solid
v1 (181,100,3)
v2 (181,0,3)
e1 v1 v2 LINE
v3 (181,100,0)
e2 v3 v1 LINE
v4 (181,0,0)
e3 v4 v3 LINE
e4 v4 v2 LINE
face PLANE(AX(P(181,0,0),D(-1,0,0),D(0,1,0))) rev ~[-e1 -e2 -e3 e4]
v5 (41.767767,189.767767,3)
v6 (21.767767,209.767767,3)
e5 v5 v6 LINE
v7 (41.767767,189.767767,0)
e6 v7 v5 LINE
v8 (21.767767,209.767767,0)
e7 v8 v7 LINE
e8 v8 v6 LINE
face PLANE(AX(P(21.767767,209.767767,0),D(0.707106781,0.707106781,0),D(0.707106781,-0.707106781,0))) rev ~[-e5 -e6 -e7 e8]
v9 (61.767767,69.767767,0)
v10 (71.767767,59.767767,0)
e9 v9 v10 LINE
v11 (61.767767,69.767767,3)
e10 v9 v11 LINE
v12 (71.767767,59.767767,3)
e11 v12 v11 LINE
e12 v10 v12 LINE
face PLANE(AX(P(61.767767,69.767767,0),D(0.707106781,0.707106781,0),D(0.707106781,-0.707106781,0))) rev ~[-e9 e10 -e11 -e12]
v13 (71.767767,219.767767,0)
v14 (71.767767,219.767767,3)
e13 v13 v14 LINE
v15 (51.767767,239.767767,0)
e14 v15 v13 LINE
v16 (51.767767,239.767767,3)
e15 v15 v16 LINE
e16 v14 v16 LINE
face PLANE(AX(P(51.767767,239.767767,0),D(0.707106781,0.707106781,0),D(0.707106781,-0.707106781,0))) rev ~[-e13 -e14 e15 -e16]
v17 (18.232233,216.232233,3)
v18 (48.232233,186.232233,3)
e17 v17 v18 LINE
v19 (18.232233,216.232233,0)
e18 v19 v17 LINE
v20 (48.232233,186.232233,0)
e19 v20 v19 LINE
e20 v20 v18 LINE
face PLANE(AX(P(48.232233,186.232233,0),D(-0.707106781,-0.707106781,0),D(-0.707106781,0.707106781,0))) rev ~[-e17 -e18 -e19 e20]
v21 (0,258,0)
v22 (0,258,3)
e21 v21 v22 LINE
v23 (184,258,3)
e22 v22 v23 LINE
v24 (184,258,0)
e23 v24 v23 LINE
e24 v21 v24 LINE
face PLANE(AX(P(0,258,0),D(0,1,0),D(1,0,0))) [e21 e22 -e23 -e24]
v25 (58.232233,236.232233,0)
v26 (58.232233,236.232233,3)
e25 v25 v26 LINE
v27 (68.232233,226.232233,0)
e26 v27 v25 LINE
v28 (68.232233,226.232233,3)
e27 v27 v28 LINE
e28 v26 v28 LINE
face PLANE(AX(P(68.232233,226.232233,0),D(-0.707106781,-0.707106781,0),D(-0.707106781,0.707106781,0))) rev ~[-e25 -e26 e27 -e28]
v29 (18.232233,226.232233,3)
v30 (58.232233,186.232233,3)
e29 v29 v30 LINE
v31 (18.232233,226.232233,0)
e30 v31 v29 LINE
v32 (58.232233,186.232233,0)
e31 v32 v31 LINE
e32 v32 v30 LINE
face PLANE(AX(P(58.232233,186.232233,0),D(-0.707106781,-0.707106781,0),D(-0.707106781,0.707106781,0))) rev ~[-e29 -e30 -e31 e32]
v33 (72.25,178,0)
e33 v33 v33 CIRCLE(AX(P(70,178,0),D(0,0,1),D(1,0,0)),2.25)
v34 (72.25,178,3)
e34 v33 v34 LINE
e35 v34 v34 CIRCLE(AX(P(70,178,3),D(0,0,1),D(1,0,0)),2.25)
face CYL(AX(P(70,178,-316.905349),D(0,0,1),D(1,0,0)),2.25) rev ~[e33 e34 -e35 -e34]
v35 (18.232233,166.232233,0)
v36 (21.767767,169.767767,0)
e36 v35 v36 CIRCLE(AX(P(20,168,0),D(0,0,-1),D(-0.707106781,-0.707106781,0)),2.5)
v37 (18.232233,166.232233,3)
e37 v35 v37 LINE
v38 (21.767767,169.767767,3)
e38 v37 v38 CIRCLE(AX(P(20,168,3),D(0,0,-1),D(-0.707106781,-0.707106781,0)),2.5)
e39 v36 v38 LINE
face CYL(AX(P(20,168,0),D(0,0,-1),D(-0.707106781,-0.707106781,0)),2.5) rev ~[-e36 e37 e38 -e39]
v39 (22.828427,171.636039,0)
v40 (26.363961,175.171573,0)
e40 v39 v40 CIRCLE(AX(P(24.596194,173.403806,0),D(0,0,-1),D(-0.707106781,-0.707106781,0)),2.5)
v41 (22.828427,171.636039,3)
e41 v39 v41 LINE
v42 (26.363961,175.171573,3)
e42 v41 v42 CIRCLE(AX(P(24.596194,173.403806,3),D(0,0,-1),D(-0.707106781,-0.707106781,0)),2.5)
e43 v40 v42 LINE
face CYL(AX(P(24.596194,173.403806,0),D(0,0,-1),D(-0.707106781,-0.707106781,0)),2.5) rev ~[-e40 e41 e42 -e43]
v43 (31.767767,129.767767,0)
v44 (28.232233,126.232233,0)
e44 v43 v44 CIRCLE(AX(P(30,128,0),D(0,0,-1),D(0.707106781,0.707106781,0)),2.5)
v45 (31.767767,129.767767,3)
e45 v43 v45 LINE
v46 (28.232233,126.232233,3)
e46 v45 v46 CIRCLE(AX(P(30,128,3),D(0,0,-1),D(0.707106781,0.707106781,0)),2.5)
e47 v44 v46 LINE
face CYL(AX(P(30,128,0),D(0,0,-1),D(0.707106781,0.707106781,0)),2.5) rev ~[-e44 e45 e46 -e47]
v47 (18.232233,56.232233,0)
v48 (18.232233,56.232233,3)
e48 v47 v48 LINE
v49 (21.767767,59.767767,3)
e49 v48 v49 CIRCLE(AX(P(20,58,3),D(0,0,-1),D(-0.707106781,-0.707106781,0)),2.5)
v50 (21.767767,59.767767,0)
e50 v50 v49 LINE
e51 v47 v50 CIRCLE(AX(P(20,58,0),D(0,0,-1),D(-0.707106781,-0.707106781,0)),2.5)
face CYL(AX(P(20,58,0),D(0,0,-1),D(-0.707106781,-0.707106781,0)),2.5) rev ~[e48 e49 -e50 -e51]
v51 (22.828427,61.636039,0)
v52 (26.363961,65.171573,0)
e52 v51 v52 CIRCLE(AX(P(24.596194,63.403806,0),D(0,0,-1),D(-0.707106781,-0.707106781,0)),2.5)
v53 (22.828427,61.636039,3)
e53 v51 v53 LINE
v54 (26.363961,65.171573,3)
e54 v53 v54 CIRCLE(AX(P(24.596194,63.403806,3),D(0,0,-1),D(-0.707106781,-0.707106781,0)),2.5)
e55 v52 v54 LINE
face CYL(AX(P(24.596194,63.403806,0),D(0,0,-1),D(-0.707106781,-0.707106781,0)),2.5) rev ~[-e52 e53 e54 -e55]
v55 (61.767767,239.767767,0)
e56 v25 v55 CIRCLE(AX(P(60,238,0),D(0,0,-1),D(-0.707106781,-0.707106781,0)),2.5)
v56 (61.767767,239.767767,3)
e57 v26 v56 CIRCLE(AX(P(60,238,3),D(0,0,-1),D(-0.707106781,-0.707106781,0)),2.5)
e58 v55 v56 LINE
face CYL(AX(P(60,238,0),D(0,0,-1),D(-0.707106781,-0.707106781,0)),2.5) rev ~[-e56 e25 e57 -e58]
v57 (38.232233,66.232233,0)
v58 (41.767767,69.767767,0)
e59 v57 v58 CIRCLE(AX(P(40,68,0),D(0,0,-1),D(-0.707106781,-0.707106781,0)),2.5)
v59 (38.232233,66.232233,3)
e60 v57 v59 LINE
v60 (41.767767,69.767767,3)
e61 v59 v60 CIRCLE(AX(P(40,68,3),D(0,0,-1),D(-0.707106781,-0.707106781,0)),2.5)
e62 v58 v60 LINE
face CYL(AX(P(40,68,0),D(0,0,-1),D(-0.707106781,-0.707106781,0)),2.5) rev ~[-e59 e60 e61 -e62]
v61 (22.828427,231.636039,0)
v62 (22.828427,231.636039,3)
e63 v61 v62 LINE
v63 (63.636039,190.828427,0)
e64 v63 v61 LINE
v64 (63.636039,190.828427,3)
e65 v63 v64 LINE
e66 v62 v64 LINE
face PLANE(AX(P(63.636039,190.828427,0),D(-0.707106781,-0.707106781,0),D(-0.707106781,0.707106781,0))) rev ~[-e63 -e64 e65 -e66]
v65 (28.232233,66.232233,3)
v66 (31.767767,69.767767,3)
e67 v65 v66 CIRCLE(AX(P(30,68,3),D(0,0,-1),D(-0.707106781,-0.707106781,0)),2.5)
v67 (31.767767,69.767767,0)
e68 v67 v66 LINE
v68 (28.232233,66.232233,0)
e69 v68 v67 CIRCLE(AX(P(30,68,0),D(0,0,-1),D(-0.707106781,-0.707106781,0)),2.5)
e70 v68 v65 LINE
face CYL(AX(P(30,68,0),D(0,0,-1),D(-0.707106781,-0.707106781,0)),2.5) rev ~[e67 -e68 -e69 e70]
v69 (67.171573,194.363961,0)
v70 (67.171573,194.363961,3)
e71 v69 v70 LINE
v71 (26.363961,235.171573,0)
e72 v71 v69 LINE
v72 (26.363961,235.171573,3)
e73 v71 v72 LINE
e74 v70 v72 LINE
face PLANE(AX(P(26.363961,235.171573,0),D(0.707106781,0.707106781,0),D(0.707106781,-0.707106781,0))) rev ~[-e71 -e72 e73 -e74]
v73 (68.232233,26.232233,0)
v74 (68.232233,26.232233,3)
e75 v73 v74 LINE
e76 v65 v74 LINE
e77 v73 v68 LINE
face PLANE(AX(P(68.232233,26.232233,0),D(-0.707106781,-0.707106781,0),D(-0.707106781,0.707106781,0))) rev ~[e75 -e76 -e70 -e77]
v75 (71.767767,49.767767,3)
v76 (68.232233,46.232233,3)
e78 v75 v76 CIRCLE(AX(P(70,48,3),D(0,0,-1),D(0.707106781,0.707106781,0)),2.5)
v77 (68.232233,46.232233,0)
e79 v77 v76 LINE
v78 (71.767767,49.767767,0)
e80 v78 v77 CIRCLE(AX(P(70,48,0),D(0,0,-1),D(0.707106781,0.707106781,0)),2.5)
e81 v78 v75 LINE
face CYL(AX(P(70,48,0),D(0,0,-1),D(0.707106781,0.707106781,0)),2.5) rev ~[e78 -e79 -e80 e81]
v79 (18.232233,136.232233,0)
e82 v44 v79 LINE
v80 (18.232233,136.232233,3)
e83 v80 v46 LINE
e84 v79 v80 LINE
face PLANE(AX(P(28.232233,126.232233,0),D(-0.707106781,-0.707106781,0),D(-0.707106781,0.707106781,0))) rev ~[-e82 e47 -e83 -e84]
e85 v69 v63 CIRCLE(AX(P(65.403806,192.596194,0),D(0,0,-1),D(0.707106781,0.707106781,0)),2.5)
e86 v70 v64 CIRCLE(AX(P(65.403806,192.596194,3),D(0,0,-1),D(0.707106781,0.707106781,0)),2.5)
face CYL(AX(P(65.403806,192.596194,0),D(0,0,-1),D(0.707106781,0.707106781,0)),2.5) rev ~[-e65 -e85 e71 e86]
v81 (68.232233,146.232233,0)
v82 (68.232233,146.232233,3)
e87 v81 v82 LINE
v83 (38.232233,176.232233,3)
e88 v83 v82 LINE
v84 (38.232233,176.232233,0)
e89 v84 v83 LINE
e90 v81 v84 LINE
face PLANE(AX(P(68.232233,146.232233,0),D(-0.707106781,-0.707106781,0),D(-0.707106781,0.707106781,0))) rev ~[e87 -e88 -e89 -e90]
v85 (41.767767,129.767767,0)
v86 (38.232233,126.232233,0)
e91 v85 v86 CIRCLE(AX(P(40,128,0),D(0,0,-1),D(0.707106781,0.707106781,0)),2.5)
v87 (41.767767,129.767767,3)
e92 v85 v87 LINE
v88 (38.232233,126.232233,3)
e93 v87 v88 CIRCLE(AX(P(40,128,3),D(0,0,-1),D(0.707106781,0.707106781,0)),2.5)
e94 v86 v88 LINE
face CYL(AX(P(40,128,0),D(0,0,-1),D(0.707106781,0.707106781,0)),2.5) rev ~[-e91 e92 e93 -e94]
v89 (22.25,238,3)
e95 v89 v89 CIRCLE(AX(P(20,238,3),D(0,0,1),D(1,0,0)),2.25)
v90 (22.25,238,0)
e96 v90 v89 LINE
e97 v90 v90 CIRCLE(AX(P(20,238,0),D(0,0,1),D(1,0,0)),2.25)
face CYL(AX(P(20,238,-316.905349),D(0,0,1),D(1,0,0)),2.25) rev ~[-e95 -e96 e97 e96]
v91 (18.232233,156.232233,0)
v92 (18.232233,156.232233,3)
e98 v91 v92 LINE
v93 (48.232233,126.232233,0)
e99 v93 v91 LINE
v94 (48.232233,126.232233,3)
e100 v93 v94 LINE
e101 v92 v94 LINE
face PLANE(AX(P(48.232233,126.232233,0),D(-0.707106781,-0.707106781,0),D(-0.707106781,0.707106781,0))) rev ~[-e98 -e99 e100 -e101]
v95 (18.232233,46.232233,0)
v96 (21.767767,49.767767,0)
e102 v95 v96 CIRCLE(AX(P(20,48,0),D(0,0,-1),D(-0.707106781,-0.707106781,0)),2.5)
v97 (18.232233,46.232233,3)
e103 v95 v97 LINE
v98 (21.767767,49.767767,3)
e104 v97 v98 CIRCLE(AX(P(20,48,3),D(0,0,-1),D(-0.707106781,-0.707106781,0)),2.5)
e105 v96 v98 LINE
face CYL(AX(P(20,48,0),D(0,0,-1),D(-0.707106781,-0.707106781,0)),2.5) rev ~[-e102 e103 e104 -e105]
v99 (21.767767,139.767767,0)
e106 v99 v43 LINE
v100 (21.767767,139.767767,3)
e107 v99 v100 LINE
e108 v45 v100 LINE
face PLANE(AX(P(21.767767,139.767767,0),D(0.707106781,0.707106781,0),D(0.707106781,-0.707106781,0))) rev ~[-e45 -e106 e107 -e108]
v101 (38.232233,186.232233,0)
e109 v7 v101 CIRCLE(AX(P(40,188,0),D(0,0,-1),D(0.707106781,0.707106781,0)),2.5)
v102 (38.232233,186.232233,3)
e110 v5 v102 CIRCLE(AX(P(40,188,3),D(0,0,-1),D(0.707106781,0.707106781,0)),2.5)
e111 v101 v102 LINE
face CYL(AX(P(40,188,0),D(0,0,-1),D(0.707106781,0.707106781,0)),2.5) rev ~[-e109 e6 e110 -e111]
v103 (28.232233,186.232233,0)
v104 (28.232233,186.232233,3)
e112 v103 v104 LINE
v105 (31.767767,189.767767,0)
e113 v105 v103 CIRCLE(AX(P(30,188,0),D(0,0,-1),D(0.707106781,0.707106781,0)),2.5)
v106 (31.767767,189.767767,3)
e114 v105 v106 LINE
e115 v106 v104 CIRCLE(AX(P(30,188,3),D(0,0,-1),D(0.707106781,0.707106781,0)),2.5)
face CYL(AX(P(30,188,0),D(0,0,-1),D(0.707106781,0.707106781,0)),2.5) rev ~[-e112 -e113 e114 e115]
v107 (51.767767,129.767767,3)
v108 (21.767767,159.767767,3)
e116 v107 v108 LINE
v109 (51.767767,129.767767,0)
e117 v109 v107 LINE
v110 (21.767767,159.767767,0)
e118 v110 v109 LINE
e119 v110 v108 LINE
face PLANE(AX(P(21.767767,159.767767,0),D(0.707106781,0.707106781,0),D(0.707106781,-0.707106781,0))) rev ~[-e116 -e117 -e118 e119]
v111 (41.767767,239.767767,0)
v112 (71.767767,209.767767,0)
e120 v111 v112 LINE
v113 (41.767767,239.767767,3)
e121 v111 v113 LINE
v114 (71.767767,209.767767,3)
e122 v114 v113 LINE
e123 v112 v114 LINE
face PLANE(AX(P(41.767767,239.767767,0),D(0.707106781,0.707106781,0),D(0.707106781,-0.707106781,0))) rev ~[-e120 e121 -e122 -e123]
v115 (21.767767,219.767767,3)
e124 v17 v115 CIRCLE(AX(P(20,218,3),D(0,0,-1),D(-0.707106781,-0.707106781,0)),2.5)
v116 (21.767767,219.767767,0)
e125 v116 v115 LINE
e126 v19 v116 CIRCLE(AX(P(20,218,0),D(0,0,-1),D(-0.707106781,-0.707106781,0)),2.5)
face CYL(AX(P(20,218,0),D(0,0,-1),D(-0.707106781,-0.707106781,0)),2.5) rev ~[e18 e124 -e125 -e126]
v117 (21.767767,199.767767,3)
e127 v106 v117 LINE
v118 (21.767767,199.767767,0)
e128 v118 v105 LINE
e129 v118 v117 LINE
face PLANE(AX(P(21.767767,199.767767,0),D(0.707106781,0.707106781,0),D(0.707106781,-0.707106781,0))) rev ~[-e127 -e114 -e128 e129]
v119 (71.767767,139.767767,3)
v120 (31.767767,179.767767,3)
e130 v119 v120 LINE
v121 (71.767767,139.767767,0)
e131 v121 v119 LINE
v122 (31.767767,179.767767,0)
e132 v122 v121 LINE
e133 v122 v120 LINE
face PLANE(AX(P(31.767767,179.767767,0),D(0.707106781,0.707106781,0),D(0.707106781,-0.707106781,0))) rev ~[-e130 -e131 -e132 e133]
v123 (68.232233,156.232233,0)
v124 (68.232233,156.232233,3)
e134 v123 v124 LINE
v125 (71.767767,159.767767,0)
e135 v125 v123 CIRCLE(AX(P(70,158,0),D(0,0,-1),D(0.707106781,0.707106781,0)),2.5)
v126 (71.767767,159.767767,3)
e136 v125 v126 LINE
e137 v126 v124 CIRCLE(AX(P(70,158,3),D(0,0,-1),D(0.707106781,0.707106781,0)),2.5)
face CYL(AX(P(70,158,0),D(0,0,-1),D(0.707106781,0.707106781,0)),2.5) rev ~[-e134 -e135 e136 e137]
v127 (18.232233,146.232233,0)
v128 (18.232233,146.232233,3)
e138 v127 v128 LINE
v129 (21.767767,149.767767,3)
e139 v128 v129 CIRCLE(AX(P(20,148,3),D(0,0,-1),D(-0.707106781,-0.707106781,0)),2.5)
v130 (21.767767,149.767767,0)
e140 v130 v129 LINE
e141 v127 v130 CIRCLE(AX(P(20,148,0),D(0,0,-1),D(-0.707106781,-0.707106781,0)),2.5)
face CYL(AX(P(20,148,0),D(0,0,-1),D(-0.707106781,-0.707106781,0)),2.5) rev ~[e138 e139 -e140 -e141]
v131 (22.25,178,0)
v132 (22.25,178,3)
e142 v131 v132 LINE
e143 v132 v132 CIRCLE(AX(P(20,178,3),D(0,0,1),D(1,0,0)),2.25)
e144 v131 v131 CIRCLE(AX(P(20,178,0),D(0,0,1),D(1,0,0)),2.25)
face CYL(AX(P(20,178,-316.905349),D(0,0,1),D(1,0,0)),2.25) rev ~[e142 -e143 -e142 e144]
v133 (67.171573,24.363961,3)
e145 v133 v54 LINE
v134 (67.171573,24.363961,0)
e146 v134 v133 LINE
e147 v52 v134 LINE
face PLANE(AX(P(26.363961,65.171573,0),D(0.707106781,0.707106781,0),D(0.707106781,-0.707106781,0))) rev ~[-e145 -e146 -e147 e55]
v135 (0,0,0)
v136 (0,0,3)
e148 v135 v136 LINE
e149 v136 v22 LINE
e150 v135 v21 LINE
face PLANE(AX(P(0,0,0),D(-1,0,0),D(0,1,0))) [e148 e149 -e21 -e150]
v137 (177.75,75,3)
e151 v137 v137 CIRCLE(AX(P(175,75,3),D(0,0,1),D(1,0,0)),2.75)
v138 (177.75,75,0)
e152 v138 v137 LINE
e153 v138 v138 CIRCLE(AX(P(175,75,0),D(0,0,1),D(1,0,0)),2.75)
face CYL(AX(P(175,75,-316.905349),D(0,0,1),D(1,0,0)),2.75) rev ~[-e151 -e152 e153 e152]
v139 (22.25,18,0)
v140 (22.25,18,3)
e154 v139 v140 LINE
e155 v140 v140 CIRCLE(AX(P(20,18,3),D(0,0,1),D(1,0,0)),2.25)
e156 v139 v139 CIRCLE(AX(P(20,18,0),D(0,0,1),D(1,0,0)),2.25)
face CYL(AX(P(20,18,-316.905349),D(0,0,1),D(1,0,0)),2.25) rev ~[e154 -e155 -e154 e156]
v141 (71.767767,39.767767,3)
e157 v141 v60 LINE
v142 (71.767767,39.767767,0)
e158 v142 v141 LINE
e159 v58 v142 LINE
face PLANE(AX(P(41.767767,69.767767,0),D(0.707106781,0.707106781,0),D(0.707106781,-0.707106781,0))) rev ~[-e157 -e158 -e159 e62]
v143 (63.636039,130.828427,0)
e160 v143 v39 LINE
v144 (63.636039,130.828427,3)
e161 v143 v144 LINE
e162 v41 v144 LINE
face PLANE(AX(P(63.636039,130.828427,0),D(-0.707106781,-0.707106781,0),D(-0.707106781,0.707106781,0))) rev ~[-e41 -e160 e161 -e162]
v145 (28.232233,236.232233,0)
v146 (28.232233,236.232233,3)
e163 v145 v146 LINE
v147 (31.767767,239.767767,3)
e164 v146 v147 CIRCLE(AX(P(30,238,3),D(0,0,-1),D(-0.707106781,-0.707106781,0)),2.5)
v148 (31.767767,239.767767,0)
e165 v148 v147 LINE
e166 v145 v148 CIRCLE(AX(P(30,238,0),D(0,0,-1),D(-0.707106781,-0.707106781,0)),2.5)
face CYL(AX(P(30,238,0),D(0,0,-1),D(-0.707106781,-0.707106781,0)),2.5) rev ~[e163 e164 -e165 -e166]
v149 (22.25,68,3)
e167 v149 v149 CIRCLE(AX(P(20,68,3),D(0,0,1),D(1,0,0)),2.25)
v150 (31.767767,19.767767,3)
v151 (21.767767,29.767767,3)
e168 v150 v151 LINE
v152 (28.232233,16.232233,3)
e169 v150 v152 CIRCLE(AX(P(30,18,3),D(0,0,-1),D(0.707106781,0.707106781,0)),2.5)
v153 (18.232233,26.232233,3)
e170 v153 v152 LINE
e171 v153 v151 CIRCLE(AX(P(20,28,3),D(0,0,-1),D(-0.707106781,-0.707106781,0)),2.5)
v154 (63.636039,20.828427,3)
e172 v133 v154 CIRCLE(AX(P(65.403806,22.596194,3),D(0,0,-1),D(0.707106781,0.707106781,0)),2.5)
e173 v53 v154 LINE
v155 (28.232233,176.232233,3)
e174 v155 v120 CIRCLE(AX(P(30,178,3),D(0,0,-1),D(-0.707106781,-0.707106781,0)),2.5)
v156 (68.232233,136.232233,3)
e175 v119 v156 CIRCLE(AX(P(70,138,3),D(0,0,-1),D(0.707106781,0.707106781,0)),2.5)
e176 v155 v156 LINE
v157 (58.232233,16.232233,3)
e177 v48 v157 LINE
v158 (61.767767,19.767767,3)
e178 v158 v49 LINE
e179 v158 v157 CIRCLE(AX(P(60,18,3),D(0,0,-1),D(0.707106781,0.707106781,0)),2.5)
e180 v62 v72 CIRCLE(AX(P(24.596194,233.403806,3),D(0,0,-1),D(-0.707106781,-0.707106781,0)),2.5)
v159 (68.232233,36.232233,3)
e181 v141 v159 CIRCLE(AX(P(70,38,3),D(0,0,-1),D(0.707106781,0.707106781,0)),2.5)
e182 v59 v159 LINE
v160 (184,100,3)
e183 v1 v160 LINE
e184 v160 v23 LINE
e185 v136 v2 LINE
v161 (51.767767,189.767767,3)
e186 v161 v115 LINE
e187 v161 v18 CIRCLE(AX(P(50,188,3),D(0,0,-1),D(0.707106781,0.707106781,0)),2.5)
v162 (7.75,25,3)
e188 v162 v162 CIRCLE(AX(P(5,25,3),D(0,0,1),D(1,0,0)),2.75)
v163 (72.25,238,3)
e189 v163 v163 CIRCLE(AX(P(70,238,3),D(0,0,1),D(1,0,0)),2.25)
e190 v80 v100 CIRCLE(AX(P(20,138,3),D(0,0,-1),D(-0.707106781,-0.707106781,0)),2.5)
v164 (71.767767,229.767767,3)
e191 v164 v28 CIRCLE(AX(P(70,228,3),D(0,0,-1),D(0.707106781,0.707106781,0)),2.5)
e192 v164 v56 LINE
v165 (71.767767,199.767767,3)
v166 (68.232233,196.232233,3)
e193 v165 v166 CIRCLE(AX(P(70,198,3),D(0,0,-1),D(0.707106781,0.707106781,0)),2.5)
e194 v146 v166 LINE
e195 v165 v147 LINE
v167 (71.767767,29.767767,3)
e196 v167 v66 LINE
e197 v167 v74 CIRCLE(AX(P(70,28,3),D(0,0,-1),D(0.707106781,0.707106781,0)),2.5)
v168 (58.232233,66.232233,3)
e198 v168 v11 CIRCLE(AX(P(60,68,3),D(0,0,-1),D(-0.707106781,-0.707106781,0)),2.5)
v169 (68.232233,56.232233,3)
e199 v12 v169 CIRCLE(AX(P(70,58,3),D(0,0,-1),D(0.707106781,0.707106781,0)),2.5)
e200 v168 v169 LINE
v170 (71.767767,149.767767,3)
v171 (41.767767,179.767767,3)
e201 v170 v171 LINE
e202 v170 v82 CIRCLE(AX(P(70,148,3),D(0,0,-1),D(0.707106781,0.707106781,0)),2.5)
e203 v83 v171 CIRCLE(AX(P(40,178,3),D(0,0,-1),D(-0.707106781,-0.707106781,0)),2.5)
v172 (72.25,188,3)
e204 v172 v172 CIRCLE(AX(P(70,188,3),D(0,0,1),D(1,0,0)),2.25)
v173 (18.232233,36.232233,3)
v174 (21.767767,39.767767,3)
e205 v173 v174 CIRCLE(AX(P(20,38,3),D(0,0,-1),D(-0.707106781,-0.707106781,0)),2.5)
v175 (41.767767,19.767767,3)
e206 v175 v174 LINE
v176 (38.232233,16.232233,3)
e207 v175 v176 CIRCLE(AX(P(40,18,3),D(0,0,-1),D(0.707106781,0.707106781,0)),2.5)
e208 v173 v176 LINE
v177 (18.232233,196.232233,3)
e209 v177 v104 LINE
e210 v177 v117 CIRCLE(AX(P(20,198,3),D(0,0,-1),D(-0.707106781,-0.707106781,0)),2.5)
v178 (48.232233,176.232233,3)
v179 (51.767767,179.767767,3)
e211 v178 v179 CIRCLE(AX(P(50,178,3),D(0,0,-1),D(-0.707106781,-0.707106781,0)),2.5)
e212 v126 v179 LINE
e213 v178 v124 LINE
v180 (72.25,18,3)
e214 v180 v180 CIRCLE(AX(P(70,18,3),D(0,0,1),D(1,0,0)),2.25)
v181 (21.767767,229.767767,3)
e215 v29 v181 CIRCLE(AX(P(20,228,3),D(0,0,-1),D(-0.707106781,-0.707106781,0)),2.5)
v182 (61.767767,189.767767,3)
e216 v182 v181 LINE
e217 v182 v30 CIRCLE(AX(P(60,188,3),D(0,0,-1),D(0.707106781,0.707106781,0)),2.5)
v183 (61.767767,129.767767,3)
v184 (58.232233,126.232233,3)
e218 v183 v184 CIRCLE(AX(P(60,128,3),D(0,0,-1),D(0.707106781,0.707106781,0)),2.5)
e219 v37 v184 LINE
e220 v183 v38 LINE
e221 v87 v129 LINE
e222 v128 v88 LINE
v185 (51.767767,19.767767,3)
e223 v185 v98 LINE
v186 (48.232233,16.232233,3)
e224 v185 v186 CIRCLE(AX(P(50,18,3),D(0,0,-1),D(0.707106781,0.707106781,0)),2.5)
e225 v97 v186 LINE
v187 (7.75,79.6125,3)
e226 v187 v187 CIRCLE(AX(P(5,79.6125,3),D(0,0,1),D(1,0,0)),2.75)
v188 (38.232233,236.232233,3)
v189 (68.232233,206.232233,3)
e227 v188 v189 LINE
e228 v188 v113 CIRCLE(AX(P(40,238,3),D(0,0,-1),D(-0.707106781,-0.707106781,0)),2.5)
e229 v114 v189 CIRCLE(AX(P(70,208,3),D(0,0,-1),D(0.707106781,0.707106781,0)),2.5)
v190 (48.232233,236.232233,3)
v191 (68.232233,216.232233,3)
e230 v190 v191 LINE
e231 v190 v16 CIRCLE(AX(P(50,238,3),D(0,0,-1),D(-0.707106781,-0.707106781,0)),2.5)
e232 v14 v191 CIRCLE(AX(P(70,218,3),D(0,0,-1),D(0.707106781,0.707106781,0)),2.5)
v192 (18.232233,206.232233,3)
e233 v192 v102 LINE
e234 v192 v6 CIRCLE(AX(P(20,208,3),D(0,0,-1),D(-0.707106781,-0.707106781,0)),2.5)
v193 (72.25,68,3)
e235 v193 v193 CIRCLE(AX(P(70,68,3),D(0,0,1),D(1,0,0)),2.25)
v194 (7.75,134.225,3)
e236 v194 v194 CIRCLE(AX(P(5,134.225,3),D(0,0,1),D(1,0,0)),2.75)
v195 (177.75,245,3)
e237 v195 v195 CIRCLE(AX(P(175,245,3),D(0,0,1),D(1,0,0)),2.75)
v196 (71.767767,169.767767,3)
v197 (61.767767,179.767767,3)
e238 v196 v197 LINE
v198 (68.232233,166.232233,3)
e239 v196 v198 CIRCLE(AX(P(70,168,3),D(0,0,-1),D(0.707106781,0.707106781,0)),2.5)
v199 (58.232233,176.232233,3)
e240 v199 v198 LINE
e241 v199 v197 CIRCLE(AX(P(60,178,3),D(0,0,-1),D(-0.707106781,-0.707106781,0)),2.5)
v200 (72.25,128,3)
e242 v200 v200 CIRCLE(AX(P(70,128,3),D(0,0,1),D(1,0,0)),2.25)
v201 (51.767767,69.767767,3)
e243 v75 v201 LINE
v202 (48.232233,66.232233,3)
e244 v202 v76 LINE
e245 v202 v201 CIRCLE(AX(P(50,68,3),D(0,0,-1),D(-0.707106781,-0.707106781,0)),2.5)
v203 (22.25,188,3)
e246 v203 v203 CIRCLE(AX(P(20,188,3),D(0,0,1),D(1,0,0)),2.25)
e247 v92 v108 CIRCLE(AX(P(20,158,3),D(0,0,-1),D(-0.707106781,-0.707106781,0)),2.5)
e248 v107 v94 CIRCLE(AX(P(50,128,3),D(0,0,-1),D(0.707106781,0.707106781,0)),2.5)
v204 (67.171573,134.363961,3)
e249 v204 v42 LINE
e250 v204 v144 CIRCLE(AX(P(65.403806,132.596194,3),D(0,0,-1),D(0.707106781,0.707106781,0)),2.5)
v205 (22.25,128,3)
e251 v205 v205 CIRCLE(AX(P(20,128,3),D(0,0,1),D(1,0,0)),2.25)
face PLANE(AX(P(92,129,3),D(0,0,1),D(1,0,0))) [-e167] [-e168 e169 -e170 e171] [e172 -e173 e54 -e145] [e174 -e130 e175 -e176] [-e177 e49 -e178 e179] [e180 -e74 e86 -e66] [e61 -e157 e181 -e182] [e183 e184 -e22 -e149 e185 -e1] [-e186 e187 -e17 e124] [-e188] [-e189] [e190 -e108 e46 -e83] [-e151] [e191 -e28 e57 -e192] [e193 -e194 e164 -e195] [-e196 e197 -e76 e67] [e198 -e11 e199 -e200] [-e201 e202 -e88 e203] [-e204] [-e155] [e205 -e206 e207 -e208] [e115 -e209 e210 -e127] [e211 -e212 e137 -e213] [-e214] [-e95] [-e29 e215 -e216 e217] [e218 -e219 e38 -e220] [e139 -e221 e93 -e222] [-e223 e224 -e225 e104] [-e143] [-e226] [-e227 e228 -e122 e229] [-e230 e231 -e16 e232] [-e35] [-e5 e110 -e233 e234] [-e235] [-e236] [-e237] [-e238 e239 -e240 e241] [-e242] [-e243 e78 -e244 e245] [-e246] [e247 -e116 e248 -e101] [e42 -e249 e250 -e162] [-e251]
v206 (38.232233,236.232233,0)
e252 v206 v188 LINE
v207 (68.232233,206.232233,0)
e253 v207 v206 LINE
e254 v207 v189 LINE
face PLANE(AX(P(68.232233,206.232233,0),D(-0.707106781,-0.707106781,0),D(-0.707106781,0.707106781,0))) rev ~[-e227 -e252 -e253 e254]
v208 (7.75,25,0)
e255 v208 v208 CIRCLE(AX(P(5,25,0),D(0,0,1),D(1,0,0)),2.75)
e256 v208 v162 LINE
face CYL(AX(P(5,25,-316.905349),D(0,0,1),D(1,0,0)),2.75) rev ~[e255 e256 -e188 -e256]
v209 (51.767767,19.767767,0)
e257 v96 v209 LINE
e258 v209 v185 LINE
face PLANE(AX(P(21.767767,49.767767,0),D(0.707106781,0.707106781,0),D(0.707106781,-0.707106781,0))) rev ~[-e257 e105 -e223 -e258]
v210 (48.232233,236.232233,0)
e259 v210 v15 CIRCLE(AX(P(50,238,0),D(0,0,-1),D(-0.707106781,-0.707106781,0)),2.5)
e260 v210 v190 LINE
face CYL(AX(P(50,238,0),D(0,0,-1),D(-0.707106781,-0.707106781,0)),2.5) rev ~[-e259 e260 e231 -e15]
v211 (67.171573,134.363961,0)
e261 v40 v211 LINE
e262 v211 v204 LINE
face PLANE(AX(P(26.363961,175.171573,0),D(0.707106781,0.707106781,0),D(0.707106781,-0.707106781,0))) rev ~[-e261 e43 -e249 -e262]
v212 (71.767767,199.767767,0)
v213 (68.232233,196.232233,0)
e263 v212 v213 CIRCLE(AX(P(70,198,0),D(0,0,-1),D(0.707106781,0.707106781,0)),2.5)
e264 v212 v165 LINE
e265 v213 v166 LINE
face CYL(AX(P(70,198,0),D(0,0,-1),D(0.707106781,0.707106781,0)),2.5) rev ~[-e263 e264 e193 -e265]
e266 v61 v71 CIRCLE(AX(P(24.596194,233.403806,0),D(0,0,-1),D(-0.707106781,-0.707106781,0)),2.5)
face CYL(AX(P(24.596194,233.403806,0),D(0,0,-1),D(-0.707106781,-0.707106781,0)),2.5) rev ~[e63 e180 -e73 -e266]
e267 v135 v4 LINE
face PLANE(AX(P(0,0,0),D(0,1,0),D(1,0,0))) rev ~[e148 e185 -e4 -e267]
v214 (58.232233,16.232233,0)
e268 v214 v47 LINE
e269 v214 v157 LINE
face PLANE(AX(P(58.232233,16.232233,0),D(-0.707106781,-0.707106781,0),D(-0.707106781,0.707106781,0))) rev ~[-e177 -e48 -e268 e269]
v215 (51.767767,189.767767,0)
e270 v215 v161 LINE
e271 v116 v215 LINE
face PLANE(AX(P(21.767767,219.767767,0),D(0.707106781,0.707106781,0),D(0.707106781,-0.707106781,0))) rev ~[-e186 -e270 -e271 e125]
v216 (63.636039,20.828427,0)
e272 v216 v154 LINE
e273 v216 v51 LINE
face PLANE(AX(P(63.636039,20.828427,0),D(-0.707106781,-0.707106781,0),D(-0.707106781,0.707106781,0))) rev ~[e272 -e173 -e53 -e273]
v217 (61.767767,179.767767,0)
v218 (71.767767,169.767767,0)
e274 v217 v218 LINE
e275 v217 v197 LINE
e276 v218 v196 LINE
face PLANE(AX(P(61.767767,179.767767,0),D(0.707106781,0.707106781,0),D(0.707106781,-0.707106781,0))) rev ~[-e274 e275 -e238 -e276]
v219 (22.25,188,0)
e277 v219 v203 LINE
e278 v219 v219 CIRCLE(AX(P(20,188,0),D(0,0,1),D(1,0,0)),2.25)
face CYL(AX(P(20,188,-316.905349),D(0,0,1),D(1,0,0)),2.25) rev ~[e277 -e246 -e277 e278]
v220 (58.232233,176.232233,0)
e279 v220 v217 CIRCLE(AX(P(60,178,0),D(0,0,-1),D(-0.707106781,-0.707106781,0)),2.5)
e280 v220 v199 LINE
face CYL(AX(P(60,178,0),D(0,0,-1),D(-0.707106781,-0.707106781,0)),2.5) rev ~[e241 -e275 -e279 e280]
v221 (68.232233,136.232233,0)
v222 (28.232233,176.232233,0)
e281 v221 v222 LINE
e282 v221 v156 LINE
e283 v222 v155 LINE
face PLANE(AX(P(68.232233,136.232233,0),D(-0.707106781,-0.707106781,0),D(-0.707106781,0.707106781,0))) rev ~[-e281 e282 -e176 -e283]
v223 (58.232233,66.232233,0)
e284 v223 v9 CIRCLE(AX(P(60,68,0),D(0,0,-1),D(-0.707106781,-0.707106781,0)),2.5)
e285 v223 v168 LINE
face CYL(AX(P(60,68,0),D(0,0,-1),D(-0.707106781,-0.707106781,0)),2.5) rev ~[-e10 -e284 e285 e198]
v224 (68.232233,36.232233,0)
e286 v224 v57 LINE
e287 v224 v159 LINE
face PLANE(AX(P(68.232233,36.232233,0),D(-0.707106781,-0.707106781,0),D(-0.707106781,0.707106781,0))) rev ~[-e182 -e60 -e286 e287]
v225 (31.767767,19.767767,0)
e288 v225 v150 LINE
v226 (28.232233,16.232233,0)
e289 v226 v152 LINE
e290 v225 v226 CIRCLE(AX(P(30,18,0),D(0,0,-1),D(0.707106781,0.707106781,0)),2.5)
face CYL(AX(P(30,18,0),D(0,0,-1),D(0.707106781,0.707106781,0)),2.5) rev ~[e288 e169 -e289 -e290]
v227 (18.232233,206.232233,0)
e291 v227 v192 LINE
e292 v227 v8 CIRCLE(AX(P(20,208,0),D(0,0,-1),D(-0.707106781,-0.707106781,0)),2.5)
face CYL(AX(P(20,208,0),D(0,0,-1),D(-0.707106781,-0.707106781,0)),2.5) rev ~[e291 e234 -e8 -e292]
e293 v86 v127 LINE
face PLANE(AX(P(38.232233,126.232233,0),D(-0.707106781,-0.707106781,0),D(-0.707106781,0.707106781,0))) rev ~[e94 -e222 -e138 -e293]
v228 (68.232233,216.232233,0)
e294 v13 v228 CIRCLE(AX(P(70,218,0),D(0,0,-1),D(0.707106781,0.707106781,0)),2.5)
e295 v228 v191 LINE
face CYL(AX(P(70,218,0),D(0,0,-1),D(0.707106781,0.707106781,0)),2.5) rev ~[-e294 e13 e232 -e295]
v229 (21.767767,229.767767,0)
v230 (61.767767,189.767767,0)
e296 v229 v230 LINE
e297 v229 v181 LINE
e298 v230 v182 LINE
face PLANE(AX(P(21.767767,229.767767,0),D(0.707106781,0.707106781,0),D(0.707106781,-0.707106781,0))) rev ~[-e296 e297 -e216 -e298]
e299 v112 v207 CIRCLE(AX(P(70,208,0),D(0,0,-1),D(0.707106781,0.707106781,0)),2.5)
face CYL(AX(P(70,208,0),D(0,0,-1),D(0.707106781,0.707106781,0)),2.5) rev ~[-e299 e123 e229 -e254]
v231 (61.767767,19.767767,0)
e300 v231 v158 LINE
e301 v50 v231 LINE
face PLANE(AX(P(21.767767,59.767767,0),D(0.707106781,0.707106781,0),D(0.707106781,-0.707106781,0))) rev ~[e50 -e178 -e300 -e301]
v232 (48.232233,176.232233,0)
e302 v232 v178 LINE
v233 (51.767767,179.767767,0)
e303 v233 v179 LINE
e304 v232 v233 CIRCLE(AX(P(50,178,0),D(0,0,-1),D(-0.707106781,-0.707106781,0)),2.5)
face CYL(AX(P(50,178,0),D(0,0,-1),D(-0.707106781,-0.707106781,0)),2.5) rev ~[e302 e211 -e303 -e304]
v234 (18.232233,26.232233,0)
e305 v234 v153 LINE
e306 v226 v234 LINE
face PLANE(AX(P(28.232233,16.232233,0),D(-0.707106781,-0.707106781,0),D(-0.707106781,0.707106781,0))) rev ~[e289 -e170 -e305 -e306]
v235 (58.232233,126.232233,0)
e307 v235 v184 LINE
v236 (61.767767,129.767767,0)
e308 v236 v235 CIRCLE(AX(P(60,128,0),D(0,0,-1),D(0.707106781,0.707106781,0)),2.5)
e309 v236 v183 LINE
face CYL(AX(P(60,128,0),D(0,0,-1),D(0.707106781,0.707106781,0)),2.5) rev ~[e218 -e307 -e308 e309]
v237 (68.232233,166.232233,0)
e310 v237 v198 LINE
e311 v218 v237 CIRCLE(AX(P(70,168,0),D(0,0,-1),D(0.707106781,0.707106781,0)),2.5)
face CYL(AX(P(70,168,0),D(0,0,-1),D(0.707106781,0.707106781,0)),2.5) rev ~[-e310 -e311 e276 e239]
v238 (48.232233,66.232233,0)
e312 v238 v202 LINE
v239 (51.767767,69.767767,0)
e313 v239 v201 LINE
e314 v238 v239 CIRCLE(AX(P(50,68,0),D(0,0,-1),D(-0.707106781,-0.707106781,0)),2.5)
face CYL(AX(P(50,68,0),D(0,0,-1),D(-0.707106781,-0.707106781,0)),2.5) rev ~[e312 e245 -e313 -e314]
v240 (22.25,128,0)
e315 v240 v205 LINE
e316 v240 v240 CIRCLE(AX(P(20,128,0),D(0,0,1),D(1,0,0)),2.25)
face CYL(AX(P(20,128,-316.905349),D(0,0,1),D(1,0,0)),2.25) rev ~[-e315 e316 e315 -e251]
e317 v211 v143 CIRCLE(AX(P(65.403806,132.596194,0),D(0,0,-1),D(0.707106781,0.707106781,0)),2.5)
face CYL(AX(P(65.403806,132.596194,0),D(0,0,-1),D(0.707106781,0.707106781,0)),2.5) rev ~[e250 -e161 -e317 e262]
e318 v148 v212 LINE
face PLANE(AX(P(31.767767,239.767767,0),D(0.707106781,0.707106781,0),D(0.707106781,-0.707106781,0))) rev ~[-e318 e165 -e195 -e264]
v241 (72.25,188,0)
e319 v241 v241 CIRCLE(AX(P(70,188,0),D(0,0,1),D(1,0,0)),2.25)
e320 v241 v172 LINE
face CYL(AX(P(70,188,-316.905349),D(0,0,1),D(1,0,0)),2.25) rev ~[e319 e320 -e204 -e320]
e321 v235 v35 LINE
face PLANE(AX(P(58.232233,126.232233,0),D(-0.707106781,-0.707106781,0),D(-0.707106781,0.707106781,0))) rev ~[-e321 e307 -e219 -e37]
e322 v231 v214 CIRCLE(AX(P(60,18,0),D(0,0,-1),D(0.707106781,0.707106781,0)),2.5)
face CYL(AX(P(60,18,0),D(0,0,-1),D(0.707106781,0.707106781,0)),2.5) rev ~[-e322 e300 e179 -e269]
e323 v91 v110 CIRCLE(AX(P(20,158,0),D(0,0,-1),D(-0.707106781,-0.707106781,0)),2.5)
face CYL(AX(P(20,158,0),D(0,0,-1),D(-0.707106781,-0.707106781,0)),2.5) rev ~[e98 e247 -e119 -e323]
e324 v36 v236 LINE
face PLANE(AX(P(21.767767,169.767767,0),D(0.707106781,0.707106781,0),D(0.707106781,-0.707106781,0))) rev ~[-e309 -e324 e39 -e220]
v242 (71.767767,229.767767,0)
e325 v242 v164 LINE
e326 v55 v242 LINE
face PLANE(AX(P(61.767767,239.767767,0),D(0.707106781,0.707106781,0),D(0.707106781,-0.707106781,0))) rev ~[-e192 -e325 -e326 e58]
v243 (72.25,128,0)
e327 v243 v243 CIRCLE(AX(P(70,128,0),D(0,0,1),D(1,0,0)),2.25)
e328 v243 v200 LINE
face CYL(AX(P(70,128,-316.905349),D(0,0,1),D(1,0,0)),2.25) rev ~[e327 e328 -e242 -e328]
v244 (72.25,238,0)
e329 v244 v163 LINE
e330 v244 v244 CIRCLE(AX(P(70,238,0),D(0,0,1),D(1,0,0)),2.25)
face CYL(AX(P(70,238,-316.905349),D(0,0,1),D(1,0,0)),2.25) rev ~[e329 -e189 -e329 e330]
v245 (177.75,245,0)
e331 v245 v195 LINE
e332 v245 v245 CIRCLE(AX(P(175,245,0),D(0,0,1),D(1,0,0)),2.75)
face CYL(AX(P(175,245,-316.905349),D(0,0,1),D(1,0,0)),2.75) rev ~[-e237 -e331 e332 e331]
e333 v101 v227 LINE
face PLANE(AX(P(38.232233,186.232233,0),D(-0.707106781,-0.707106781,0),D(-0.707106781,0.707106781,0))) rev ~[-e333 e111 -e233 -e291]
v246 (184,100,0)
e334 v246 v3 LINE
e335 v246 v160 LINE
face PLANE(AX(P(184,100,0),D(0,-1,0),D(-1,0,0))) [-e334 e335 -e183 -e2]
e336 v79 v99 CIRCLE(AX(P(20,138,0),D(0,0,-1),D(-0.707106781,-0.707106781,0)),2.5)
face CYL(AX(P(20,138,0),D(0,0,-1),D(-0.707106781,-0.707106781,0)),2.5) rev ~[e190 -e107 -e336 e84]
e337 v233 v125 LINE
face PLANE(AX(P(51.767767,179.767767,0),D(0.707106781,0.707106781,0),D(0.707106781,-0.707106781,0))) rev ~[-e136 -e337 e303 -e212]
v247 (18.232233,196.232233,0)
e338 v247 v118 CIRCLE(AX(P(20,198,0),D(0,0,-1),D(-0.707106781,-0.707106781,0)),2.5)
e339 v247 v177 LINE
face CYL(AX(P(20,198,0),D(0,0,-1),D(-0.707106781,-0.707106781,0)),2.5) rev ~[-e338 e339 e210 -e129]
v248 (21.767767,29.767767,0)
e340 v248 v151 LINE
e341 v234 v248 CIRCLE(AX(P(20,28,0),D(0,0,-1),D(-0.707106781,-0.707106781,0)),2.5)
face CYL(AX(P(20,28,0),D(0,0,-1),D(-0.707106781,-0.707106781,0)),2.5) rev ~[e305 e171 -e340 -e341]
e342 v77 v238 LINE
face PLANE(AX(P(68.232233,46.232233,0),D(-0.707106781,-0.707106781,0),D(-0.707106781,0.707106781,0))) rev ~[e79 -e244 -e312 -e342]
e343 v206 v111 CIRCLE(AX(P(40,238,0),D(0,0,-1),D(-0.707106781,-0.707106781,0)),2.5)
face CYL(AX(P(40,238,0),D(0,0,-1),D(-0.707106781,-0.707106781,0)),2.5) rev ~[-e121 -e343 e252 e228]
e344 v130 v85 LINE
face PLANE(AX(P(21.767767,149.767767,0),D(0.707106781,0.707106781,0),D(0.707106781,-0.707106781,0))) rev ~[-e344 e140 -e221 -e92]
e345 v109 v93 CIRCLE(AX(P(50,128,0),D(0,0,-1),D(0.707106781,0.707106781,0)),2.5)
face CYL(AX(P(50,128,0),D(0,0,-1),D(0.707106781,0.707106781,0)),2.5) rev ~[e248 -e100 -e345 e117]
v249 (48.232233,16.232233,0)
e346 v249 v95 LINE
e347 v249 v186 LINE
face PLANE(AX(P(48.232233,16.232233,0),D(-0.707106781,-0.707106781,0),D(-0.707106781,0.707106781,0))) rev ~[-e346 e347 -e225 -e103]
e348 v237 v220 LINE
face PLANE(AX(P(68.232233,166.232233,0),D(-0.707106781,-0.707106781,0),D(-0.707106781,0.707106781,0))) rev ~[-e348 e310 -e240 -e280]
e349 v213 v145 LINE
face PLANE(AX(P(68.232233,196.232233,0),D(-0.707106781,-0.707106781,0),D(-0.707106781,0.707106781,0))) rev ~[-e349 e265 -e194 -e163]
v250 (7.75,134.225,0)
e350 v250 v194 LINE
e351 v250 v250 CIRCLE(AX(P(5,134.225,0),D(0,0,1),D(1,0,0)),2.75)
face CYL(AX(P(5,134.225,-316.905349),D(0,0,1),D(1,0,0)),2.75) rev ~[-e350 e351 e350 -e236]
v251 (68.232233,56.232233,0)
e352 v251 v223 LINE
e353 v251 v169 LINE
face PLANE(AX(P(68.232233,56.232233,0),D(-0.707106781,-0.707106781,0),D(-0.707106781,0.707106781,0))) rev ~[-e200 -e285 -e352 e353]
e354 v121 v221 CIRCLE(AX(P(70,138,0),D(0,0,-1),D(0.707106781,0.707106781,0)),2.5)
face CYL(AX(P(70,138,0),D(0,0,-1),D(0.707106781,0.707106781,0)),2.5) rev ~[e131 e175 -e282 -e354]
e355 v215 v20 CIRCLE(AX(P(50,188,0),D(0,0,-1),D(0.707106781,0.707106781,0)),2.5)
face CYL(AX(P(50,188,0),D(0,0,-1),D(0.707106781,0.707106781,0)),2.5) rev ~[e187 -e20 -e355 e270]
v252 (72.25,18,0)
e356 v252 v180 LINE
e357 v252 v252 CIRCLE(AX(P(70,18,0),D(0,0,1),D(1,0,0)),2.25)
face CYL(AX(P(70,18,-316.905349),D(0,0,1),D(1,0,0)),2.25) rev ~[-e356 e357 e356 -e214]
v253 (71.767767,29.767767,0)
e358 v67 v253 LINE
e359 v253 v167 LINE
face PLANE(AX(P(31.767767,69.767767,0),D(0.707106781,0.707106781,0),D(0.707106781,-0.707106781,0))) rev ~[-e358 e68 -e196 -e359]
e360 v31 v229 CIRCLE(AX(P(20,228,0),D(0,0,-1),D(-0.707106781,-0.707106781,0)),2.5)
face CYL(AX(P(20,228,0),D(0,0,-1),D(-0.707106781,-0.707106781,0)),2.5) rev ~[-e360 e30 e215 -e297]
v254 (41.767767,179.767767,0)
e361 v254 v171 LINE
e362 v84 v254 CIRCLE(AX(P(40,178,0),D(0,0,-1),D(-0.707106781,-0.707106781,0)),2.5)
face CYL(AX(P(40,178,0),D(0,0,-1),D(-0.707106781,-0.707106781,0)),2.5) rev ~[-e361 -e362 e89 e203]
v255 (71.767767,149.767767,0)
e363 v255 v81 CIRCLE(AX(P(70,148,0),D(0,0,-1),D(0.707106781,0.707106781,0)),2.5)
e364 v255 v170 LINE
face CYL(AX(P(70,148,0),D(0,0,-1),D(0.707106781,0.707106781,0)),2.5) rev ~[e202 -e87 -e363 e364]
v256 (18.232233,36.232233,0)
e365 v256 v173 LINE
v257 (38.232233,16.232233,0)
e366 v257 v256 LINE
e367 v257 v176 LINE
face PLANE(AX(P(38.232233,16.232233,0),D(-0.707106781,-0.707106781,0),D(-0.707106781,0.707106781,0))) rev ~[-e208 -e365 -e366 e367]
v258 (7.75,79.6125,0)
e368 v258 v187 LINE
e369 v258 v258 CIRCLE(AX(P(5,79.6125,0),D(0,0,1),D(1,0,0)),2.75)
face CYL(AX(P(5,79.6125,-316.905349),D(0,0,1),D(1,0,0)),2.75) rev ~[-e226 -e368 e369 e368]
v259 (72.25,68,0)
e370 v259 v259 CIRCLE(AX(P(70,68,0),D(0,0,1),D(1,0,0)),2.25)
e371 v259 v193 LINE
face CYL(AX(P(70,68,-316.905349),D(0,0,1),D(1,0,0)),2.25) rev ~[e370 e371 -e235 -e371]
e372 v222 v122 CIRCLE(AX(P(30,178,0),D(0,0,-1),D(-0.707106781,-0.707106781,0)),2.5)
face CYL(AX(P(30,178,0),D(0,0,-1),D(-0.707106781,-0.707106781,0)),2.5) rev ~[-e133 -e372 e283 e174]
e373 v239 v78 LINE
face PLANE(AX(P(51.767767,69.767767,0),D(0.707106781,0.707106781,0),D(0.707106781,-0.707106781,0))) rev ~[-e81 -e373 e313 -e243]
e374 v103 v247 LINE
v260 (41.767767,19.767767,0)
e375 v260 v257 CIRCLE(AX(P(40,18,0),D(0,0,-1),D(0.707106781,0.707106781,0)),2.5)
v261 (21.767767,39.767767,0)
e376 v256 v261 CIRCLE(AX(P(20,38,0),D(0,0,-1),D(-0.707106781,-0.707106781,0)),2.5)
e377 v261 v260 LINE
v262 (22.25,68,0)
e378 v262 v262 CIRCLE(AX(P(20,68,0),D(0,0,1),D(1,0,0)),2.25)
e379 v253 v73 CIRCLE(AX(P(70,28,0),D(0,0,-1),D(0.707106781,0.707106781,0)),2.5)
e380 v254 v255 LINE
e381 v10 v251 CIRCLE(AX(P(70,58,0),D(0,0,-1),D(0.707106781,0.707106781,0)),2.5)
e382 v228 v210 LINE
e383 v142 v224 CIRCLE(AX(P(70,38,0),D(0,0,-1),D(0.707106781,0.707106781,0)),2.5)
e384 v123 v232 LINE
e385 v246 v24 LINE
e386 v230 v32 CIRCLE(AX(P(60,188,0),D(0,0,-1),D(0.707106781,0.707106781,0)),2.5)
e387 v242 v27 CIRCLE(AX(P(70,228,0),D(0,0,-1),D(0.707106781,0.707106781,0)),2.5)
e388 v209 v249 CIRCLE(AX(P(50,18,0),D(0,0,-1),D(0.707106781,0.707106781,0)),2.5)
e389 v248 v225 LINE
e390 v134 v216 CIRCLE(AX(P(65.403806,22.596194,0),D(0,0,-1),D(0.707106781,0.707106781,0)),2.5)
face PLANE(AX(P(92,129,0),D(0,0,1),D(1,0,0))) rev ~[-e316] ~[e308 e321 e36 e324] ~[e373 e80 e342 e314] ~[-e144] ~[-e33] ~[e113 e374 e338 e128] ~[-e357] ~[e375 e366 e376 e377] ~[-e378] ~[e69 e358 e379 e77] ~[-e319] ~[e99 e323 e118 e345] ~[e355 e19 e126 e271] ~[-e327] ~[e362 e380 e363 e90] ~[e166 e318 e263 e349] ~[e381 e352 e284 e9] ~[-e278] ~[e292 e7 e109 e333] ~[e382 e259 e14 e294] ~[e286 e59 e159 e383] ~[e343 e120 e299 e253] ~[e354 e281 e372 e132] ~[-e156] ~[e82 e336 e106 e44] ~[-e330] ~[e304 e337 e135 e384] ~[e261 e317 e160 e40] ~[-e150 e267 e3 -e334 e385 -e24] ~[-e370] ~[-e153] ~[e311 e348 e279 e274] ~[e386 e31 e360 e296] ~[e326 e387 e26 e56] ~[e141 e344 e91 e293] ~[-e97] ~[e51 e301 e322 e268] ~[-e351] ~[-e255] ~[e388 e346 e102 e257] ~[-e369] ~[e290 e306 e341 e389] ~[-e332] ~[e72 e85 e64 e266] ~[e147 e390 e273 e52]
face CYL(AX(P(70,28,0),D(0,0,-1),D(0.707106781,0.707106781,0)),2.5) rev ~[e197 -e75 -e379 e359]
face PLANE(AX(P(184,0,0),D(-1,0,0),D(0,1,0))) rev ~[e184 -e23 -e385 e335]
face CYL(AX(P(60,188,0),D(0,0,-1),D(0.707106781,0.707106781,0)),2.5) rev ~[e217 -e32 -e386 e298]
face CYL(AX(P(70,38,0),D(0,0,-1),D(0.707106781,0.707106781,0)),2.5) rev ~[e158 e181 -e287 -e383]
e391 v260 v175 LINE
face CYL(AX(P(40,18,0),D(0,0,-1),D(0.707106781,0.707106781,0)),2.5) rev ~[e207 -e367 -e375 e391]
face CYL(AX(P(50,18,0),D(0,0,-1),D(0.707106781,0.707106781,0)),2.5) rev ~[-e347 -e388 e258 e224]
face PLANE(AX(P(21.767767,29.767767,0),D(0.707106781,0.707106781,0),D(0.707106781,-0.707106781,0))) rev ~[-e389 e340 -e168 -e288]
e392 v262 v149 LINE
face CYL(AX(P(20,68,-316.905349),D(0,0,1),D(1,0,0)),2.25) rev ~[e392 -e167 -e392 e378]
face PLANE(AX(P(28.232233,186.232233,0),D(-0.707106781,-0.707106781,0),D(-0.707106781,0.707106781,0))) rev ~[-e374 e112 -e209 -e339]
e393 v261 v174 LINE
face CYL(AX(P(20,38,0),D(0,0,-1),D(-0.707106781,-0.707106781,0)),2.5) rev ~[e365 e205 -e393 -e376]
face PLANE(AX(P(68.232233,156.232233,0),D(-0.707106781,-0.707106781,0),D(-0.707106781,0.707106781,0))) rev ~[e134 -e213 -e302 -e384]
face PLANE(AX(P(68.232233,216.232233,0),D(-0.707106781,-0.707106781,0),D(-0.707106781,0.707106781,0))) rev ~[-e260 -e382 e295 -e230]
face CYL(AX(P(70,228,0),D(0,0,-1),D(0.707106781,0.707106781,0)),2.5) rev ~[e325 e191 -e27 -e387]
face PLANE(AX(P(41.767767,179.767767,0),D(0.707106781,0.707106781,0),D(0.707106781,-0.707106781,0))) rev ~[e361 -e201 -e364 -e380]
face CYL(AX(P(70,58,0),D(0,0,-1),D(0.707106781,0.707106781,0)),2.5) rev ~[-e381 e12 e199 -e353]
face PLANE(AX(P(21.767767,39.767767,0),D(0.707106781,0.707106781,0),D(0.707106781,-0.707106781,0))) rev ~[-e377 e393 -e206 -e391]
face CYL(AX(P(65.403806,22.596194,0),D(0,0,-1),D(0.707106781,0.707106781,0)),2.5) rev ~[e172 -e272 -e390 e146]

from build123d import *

# Parameters (mm, degrees)
SKETCH1_W            = 184
SKETCH1_H            = 258
BOSS_EXTRUDE1_DEPTH  = 3
M5_CLEARANCE_HOLE1_D = 5.5
CUT_EXTRUDE1_DEPTH   = 10
M4_CLEARANCE_HOLE1_D = 4.5
LPATTERN1_COUNT      = 2
LPATTERN1_PITCH      = 60
LPATTERN2_COUNT      = 2
LPATTERN2_PITCH      = 170
SKETCH7_W            = 3
SKETCH7_H            = 100
CUT_EXTRUDE2_DEPTH   = 10


with BuildPart() as part:
    # Sketch1 → Boss-Extrude1 (new body)
    with BuildSketch(Plane.XY):
        with Locations((92, 129)):
            Rectangle(SKETCH1_W, SKETCH1_H)
    extrude(amount=BOSS_EXTRUDE1_DEPTH)

    # M5 Clearance Hole1 (through all)
    with Locations(Plane(origin=(0, 0, 0), x_dir=(-1, 0, 0), z_dir=(0, 0, -1))):
        with Locations((-175, 75), (-5, 134.225), (-5, 79.6125), (-175, 245), (-5, 25)):
            Hole(M5_CLEARANCE_HOLE1_D / 2)

    # Sketch4 → Cut-Extrude1 (cut)
    with BuildSketch(Plane(origin=(0, 0, 0), x_dir=(-1, 0, 0), z_dir=(0, 0, -1))):
        with BuildLine():
            Line((-61.767766953, 239.767766953), (-71.767766953, 229.767766953))
            ThreePointArc((-71.767766953, 229.767766953), (-71.767766953, 226.232233047), (-68.232233047, 226.232233047))
            Line((-68.232233047, 226.232233047), (-58.232233047, 236.232233047))
            ThreePointArc((-58.232233047, 236.232233047), (-58.232233047, 239.767766953), (-61.767766953, 239.767766953))
        make_face()
        with BuildLine():
            Line((-51.767766953, 239.767766953), (-71.767766953, 219.767766953))
            ThreePointArc((-71.767766953, 219.767766953), (-71.767766953, 216.232233047), (-68.232233047, 216.232233047))
            Line((-68.232233047, 216.232233047), (-48.232233047, 236.232233047))
            ThreePointArc((-48.232233047, 236.232233047), (-48.232233047, 239.767766953), (-51.767766953, 239.767766953))
        make_face()
        with BuildLine():
            Line((-41.767766953, 239.767766953), (-71.767766953, 209.767766953))
            ThreePointArc((-71.767766953, 209.767766953), (-71.767766953, 206.232233047), (-68.232233047, 206.232233047))
            Line((-68.232233047, 206.232233047), (-38.232233047, 236.232233047))
            ThreePointArc((-38.232233047, 236.232233047), (-38.232233047, 239.767766953), (-41.767766953, 239.767766953))
        make_face()
        with BuildLine():
            Line((-31.767766953, 239.767766953), (-71.767766953, 199.767766953))
            ThreePointArc((-71.767766953, 199.767766953), (-71.767766953, 196.232233047), (-68.232233047, 196.232233047))
            Line((-68.232233047, 196.232233047), (-28.232233047, 236.232233047))
            ThreePointArc((-28.232233047, 236.232233047), (-28.232233047, 239.767766953), (-31.767766953, 239.767766953))
        make_face()
        with BuildLine():
            ThreePointArc((-22.828427125, 231.636038969), (-22.828427125, 235.171572875), (-26.363961031, 235.171572875))
            Line((-26.363961031, 235.171572875), (-67.171572875, 194.363961031))
            ThreePointArc((-67.171572875, 194.363961031), (-67.171572875, 190.828427125), (-63.636038969, 190.828427125))
            Line((-63.636038969, 190.828427125), (-22.828427125, 231.636038969))
        make_face()
        with BuildLine():
            Line((-21.767766953, 229.767766953), (-61.767766953, 189.767766953))
            ThreePointArc((-61.767766953, 189.767766953), (-61.767766953, 186.232233047), (-58.232233047, 186.232233047))
            Line((-58.232233047, 186.232233047), (-18.232233047, 226.232233047))
            ThreePointArc((-18.232233047, 226.232233047), (-18.232233047, 229.767766953), (-21.767766953, 229.767766953))
        make_face()
        with BuildLine():
            Line((-48.232233047, 186.232233047), (-18.232233047, 216.232233047))
            ThreePointArc((-18.232233047, 216.232233047), (-18.232233047, 219.767766953), (-21.767766953, 219.767766953))
            Line((-21.767766953, 219.767766953), (-51.767766953, 189.767766953))
            ThreePointArc((-51.767766953, 189.767766953), (-51.767766953, 186.232233047), (-48.232233047, 186.232233047))
        make_face()
        with BuildLine():
            Line((-21.767766953, 209.767766953), (-41.767766953, 189.767766953))
            ThreePointArc((-41.767766953, 189.767766953), (-41.767766953, 186.232233047), (-38.232233047, 186.232233047))
            Line((-38.232233047, 186.232233047), (-18.232233047, 206.232233047))
            ThreePointArc((-18.232233047, 206.232233047), (-18.232233047, 209.767766953), (-21.767766953, 209.767766953))
        make_face()
        with BuildLine():
            Line((-21.767766953, 199.767766953), (-31.767766953, 189.767766953))
            ThreePointArc((-31.767766953, 189.767766953), (-31.767766953, 186.232233047), (-28.232233047, 186.232233047))
            Line((-28.232233047, 186.232233047), (-18.232233047, 196.232233047))
            ThreePointArc((-18.232233047, 196.232233047), (-18.232233047, 199.767766953), (-21.767766953, 199.767766953))
        make_face()
    cut_extrude1 = extrude(amount=-CUT_EXTRUDE1_DEPTH, mode=Mode.SUBTRACT)

    # M4 Clearance Hole1 (through all)
    with Locations(Plane(origin=(0, 0, 0), x_dir=(-1, 0, 0), z_dir=(0, 0, -1))):
        with Locations((-20, 188), (-70, 188), (-70, 238), (-20, 238)):
            m4_clearance_hole1 = Hole(M4_CLEARANCE_HOLE1_D / 2)

    # LPattern1: Cut-Extrude1, M4 Clearance Hole1 ×2
    with Locations(*[(0, -i * LPATTERN1_PITCH, 0) for i in range(1, LPATTERN1_COUNT)]):
        add(cut_extrude1, mode=Mode.SUBTRACT)
        add(m4_clearance_hole1, mode=Mode.SUBTRACT)

    # LPattern2: Cut-Extrude1, M4 Clearance Hole1 ×2
    with Locations(*[(0, -i * LPATTERN2_PITCH, 0) for i in range(1, LPATTERN2_COUNT)]):
        add(cut_extrude1, mode=Mode.SUBTRACT)
        add(m4_clearance_hole1, mode=Mode.SUBTRACT)

    # Sketch7 → Cut-Extrude2 (cut)
    with BuildSketch(Plane(origin=(0, 0, 0), x_dir=(-1, 0, 0), z_dir=(0, 0, -1))):
        with Locations((-182.5, 50)):
            Rectangle(SKETCH7_W, SKETCH7_H)
    extrude(amount=-CUT_EXTRUDE2_DEPTH, mode=Mode.SUBTRACT)


solid = part.part
